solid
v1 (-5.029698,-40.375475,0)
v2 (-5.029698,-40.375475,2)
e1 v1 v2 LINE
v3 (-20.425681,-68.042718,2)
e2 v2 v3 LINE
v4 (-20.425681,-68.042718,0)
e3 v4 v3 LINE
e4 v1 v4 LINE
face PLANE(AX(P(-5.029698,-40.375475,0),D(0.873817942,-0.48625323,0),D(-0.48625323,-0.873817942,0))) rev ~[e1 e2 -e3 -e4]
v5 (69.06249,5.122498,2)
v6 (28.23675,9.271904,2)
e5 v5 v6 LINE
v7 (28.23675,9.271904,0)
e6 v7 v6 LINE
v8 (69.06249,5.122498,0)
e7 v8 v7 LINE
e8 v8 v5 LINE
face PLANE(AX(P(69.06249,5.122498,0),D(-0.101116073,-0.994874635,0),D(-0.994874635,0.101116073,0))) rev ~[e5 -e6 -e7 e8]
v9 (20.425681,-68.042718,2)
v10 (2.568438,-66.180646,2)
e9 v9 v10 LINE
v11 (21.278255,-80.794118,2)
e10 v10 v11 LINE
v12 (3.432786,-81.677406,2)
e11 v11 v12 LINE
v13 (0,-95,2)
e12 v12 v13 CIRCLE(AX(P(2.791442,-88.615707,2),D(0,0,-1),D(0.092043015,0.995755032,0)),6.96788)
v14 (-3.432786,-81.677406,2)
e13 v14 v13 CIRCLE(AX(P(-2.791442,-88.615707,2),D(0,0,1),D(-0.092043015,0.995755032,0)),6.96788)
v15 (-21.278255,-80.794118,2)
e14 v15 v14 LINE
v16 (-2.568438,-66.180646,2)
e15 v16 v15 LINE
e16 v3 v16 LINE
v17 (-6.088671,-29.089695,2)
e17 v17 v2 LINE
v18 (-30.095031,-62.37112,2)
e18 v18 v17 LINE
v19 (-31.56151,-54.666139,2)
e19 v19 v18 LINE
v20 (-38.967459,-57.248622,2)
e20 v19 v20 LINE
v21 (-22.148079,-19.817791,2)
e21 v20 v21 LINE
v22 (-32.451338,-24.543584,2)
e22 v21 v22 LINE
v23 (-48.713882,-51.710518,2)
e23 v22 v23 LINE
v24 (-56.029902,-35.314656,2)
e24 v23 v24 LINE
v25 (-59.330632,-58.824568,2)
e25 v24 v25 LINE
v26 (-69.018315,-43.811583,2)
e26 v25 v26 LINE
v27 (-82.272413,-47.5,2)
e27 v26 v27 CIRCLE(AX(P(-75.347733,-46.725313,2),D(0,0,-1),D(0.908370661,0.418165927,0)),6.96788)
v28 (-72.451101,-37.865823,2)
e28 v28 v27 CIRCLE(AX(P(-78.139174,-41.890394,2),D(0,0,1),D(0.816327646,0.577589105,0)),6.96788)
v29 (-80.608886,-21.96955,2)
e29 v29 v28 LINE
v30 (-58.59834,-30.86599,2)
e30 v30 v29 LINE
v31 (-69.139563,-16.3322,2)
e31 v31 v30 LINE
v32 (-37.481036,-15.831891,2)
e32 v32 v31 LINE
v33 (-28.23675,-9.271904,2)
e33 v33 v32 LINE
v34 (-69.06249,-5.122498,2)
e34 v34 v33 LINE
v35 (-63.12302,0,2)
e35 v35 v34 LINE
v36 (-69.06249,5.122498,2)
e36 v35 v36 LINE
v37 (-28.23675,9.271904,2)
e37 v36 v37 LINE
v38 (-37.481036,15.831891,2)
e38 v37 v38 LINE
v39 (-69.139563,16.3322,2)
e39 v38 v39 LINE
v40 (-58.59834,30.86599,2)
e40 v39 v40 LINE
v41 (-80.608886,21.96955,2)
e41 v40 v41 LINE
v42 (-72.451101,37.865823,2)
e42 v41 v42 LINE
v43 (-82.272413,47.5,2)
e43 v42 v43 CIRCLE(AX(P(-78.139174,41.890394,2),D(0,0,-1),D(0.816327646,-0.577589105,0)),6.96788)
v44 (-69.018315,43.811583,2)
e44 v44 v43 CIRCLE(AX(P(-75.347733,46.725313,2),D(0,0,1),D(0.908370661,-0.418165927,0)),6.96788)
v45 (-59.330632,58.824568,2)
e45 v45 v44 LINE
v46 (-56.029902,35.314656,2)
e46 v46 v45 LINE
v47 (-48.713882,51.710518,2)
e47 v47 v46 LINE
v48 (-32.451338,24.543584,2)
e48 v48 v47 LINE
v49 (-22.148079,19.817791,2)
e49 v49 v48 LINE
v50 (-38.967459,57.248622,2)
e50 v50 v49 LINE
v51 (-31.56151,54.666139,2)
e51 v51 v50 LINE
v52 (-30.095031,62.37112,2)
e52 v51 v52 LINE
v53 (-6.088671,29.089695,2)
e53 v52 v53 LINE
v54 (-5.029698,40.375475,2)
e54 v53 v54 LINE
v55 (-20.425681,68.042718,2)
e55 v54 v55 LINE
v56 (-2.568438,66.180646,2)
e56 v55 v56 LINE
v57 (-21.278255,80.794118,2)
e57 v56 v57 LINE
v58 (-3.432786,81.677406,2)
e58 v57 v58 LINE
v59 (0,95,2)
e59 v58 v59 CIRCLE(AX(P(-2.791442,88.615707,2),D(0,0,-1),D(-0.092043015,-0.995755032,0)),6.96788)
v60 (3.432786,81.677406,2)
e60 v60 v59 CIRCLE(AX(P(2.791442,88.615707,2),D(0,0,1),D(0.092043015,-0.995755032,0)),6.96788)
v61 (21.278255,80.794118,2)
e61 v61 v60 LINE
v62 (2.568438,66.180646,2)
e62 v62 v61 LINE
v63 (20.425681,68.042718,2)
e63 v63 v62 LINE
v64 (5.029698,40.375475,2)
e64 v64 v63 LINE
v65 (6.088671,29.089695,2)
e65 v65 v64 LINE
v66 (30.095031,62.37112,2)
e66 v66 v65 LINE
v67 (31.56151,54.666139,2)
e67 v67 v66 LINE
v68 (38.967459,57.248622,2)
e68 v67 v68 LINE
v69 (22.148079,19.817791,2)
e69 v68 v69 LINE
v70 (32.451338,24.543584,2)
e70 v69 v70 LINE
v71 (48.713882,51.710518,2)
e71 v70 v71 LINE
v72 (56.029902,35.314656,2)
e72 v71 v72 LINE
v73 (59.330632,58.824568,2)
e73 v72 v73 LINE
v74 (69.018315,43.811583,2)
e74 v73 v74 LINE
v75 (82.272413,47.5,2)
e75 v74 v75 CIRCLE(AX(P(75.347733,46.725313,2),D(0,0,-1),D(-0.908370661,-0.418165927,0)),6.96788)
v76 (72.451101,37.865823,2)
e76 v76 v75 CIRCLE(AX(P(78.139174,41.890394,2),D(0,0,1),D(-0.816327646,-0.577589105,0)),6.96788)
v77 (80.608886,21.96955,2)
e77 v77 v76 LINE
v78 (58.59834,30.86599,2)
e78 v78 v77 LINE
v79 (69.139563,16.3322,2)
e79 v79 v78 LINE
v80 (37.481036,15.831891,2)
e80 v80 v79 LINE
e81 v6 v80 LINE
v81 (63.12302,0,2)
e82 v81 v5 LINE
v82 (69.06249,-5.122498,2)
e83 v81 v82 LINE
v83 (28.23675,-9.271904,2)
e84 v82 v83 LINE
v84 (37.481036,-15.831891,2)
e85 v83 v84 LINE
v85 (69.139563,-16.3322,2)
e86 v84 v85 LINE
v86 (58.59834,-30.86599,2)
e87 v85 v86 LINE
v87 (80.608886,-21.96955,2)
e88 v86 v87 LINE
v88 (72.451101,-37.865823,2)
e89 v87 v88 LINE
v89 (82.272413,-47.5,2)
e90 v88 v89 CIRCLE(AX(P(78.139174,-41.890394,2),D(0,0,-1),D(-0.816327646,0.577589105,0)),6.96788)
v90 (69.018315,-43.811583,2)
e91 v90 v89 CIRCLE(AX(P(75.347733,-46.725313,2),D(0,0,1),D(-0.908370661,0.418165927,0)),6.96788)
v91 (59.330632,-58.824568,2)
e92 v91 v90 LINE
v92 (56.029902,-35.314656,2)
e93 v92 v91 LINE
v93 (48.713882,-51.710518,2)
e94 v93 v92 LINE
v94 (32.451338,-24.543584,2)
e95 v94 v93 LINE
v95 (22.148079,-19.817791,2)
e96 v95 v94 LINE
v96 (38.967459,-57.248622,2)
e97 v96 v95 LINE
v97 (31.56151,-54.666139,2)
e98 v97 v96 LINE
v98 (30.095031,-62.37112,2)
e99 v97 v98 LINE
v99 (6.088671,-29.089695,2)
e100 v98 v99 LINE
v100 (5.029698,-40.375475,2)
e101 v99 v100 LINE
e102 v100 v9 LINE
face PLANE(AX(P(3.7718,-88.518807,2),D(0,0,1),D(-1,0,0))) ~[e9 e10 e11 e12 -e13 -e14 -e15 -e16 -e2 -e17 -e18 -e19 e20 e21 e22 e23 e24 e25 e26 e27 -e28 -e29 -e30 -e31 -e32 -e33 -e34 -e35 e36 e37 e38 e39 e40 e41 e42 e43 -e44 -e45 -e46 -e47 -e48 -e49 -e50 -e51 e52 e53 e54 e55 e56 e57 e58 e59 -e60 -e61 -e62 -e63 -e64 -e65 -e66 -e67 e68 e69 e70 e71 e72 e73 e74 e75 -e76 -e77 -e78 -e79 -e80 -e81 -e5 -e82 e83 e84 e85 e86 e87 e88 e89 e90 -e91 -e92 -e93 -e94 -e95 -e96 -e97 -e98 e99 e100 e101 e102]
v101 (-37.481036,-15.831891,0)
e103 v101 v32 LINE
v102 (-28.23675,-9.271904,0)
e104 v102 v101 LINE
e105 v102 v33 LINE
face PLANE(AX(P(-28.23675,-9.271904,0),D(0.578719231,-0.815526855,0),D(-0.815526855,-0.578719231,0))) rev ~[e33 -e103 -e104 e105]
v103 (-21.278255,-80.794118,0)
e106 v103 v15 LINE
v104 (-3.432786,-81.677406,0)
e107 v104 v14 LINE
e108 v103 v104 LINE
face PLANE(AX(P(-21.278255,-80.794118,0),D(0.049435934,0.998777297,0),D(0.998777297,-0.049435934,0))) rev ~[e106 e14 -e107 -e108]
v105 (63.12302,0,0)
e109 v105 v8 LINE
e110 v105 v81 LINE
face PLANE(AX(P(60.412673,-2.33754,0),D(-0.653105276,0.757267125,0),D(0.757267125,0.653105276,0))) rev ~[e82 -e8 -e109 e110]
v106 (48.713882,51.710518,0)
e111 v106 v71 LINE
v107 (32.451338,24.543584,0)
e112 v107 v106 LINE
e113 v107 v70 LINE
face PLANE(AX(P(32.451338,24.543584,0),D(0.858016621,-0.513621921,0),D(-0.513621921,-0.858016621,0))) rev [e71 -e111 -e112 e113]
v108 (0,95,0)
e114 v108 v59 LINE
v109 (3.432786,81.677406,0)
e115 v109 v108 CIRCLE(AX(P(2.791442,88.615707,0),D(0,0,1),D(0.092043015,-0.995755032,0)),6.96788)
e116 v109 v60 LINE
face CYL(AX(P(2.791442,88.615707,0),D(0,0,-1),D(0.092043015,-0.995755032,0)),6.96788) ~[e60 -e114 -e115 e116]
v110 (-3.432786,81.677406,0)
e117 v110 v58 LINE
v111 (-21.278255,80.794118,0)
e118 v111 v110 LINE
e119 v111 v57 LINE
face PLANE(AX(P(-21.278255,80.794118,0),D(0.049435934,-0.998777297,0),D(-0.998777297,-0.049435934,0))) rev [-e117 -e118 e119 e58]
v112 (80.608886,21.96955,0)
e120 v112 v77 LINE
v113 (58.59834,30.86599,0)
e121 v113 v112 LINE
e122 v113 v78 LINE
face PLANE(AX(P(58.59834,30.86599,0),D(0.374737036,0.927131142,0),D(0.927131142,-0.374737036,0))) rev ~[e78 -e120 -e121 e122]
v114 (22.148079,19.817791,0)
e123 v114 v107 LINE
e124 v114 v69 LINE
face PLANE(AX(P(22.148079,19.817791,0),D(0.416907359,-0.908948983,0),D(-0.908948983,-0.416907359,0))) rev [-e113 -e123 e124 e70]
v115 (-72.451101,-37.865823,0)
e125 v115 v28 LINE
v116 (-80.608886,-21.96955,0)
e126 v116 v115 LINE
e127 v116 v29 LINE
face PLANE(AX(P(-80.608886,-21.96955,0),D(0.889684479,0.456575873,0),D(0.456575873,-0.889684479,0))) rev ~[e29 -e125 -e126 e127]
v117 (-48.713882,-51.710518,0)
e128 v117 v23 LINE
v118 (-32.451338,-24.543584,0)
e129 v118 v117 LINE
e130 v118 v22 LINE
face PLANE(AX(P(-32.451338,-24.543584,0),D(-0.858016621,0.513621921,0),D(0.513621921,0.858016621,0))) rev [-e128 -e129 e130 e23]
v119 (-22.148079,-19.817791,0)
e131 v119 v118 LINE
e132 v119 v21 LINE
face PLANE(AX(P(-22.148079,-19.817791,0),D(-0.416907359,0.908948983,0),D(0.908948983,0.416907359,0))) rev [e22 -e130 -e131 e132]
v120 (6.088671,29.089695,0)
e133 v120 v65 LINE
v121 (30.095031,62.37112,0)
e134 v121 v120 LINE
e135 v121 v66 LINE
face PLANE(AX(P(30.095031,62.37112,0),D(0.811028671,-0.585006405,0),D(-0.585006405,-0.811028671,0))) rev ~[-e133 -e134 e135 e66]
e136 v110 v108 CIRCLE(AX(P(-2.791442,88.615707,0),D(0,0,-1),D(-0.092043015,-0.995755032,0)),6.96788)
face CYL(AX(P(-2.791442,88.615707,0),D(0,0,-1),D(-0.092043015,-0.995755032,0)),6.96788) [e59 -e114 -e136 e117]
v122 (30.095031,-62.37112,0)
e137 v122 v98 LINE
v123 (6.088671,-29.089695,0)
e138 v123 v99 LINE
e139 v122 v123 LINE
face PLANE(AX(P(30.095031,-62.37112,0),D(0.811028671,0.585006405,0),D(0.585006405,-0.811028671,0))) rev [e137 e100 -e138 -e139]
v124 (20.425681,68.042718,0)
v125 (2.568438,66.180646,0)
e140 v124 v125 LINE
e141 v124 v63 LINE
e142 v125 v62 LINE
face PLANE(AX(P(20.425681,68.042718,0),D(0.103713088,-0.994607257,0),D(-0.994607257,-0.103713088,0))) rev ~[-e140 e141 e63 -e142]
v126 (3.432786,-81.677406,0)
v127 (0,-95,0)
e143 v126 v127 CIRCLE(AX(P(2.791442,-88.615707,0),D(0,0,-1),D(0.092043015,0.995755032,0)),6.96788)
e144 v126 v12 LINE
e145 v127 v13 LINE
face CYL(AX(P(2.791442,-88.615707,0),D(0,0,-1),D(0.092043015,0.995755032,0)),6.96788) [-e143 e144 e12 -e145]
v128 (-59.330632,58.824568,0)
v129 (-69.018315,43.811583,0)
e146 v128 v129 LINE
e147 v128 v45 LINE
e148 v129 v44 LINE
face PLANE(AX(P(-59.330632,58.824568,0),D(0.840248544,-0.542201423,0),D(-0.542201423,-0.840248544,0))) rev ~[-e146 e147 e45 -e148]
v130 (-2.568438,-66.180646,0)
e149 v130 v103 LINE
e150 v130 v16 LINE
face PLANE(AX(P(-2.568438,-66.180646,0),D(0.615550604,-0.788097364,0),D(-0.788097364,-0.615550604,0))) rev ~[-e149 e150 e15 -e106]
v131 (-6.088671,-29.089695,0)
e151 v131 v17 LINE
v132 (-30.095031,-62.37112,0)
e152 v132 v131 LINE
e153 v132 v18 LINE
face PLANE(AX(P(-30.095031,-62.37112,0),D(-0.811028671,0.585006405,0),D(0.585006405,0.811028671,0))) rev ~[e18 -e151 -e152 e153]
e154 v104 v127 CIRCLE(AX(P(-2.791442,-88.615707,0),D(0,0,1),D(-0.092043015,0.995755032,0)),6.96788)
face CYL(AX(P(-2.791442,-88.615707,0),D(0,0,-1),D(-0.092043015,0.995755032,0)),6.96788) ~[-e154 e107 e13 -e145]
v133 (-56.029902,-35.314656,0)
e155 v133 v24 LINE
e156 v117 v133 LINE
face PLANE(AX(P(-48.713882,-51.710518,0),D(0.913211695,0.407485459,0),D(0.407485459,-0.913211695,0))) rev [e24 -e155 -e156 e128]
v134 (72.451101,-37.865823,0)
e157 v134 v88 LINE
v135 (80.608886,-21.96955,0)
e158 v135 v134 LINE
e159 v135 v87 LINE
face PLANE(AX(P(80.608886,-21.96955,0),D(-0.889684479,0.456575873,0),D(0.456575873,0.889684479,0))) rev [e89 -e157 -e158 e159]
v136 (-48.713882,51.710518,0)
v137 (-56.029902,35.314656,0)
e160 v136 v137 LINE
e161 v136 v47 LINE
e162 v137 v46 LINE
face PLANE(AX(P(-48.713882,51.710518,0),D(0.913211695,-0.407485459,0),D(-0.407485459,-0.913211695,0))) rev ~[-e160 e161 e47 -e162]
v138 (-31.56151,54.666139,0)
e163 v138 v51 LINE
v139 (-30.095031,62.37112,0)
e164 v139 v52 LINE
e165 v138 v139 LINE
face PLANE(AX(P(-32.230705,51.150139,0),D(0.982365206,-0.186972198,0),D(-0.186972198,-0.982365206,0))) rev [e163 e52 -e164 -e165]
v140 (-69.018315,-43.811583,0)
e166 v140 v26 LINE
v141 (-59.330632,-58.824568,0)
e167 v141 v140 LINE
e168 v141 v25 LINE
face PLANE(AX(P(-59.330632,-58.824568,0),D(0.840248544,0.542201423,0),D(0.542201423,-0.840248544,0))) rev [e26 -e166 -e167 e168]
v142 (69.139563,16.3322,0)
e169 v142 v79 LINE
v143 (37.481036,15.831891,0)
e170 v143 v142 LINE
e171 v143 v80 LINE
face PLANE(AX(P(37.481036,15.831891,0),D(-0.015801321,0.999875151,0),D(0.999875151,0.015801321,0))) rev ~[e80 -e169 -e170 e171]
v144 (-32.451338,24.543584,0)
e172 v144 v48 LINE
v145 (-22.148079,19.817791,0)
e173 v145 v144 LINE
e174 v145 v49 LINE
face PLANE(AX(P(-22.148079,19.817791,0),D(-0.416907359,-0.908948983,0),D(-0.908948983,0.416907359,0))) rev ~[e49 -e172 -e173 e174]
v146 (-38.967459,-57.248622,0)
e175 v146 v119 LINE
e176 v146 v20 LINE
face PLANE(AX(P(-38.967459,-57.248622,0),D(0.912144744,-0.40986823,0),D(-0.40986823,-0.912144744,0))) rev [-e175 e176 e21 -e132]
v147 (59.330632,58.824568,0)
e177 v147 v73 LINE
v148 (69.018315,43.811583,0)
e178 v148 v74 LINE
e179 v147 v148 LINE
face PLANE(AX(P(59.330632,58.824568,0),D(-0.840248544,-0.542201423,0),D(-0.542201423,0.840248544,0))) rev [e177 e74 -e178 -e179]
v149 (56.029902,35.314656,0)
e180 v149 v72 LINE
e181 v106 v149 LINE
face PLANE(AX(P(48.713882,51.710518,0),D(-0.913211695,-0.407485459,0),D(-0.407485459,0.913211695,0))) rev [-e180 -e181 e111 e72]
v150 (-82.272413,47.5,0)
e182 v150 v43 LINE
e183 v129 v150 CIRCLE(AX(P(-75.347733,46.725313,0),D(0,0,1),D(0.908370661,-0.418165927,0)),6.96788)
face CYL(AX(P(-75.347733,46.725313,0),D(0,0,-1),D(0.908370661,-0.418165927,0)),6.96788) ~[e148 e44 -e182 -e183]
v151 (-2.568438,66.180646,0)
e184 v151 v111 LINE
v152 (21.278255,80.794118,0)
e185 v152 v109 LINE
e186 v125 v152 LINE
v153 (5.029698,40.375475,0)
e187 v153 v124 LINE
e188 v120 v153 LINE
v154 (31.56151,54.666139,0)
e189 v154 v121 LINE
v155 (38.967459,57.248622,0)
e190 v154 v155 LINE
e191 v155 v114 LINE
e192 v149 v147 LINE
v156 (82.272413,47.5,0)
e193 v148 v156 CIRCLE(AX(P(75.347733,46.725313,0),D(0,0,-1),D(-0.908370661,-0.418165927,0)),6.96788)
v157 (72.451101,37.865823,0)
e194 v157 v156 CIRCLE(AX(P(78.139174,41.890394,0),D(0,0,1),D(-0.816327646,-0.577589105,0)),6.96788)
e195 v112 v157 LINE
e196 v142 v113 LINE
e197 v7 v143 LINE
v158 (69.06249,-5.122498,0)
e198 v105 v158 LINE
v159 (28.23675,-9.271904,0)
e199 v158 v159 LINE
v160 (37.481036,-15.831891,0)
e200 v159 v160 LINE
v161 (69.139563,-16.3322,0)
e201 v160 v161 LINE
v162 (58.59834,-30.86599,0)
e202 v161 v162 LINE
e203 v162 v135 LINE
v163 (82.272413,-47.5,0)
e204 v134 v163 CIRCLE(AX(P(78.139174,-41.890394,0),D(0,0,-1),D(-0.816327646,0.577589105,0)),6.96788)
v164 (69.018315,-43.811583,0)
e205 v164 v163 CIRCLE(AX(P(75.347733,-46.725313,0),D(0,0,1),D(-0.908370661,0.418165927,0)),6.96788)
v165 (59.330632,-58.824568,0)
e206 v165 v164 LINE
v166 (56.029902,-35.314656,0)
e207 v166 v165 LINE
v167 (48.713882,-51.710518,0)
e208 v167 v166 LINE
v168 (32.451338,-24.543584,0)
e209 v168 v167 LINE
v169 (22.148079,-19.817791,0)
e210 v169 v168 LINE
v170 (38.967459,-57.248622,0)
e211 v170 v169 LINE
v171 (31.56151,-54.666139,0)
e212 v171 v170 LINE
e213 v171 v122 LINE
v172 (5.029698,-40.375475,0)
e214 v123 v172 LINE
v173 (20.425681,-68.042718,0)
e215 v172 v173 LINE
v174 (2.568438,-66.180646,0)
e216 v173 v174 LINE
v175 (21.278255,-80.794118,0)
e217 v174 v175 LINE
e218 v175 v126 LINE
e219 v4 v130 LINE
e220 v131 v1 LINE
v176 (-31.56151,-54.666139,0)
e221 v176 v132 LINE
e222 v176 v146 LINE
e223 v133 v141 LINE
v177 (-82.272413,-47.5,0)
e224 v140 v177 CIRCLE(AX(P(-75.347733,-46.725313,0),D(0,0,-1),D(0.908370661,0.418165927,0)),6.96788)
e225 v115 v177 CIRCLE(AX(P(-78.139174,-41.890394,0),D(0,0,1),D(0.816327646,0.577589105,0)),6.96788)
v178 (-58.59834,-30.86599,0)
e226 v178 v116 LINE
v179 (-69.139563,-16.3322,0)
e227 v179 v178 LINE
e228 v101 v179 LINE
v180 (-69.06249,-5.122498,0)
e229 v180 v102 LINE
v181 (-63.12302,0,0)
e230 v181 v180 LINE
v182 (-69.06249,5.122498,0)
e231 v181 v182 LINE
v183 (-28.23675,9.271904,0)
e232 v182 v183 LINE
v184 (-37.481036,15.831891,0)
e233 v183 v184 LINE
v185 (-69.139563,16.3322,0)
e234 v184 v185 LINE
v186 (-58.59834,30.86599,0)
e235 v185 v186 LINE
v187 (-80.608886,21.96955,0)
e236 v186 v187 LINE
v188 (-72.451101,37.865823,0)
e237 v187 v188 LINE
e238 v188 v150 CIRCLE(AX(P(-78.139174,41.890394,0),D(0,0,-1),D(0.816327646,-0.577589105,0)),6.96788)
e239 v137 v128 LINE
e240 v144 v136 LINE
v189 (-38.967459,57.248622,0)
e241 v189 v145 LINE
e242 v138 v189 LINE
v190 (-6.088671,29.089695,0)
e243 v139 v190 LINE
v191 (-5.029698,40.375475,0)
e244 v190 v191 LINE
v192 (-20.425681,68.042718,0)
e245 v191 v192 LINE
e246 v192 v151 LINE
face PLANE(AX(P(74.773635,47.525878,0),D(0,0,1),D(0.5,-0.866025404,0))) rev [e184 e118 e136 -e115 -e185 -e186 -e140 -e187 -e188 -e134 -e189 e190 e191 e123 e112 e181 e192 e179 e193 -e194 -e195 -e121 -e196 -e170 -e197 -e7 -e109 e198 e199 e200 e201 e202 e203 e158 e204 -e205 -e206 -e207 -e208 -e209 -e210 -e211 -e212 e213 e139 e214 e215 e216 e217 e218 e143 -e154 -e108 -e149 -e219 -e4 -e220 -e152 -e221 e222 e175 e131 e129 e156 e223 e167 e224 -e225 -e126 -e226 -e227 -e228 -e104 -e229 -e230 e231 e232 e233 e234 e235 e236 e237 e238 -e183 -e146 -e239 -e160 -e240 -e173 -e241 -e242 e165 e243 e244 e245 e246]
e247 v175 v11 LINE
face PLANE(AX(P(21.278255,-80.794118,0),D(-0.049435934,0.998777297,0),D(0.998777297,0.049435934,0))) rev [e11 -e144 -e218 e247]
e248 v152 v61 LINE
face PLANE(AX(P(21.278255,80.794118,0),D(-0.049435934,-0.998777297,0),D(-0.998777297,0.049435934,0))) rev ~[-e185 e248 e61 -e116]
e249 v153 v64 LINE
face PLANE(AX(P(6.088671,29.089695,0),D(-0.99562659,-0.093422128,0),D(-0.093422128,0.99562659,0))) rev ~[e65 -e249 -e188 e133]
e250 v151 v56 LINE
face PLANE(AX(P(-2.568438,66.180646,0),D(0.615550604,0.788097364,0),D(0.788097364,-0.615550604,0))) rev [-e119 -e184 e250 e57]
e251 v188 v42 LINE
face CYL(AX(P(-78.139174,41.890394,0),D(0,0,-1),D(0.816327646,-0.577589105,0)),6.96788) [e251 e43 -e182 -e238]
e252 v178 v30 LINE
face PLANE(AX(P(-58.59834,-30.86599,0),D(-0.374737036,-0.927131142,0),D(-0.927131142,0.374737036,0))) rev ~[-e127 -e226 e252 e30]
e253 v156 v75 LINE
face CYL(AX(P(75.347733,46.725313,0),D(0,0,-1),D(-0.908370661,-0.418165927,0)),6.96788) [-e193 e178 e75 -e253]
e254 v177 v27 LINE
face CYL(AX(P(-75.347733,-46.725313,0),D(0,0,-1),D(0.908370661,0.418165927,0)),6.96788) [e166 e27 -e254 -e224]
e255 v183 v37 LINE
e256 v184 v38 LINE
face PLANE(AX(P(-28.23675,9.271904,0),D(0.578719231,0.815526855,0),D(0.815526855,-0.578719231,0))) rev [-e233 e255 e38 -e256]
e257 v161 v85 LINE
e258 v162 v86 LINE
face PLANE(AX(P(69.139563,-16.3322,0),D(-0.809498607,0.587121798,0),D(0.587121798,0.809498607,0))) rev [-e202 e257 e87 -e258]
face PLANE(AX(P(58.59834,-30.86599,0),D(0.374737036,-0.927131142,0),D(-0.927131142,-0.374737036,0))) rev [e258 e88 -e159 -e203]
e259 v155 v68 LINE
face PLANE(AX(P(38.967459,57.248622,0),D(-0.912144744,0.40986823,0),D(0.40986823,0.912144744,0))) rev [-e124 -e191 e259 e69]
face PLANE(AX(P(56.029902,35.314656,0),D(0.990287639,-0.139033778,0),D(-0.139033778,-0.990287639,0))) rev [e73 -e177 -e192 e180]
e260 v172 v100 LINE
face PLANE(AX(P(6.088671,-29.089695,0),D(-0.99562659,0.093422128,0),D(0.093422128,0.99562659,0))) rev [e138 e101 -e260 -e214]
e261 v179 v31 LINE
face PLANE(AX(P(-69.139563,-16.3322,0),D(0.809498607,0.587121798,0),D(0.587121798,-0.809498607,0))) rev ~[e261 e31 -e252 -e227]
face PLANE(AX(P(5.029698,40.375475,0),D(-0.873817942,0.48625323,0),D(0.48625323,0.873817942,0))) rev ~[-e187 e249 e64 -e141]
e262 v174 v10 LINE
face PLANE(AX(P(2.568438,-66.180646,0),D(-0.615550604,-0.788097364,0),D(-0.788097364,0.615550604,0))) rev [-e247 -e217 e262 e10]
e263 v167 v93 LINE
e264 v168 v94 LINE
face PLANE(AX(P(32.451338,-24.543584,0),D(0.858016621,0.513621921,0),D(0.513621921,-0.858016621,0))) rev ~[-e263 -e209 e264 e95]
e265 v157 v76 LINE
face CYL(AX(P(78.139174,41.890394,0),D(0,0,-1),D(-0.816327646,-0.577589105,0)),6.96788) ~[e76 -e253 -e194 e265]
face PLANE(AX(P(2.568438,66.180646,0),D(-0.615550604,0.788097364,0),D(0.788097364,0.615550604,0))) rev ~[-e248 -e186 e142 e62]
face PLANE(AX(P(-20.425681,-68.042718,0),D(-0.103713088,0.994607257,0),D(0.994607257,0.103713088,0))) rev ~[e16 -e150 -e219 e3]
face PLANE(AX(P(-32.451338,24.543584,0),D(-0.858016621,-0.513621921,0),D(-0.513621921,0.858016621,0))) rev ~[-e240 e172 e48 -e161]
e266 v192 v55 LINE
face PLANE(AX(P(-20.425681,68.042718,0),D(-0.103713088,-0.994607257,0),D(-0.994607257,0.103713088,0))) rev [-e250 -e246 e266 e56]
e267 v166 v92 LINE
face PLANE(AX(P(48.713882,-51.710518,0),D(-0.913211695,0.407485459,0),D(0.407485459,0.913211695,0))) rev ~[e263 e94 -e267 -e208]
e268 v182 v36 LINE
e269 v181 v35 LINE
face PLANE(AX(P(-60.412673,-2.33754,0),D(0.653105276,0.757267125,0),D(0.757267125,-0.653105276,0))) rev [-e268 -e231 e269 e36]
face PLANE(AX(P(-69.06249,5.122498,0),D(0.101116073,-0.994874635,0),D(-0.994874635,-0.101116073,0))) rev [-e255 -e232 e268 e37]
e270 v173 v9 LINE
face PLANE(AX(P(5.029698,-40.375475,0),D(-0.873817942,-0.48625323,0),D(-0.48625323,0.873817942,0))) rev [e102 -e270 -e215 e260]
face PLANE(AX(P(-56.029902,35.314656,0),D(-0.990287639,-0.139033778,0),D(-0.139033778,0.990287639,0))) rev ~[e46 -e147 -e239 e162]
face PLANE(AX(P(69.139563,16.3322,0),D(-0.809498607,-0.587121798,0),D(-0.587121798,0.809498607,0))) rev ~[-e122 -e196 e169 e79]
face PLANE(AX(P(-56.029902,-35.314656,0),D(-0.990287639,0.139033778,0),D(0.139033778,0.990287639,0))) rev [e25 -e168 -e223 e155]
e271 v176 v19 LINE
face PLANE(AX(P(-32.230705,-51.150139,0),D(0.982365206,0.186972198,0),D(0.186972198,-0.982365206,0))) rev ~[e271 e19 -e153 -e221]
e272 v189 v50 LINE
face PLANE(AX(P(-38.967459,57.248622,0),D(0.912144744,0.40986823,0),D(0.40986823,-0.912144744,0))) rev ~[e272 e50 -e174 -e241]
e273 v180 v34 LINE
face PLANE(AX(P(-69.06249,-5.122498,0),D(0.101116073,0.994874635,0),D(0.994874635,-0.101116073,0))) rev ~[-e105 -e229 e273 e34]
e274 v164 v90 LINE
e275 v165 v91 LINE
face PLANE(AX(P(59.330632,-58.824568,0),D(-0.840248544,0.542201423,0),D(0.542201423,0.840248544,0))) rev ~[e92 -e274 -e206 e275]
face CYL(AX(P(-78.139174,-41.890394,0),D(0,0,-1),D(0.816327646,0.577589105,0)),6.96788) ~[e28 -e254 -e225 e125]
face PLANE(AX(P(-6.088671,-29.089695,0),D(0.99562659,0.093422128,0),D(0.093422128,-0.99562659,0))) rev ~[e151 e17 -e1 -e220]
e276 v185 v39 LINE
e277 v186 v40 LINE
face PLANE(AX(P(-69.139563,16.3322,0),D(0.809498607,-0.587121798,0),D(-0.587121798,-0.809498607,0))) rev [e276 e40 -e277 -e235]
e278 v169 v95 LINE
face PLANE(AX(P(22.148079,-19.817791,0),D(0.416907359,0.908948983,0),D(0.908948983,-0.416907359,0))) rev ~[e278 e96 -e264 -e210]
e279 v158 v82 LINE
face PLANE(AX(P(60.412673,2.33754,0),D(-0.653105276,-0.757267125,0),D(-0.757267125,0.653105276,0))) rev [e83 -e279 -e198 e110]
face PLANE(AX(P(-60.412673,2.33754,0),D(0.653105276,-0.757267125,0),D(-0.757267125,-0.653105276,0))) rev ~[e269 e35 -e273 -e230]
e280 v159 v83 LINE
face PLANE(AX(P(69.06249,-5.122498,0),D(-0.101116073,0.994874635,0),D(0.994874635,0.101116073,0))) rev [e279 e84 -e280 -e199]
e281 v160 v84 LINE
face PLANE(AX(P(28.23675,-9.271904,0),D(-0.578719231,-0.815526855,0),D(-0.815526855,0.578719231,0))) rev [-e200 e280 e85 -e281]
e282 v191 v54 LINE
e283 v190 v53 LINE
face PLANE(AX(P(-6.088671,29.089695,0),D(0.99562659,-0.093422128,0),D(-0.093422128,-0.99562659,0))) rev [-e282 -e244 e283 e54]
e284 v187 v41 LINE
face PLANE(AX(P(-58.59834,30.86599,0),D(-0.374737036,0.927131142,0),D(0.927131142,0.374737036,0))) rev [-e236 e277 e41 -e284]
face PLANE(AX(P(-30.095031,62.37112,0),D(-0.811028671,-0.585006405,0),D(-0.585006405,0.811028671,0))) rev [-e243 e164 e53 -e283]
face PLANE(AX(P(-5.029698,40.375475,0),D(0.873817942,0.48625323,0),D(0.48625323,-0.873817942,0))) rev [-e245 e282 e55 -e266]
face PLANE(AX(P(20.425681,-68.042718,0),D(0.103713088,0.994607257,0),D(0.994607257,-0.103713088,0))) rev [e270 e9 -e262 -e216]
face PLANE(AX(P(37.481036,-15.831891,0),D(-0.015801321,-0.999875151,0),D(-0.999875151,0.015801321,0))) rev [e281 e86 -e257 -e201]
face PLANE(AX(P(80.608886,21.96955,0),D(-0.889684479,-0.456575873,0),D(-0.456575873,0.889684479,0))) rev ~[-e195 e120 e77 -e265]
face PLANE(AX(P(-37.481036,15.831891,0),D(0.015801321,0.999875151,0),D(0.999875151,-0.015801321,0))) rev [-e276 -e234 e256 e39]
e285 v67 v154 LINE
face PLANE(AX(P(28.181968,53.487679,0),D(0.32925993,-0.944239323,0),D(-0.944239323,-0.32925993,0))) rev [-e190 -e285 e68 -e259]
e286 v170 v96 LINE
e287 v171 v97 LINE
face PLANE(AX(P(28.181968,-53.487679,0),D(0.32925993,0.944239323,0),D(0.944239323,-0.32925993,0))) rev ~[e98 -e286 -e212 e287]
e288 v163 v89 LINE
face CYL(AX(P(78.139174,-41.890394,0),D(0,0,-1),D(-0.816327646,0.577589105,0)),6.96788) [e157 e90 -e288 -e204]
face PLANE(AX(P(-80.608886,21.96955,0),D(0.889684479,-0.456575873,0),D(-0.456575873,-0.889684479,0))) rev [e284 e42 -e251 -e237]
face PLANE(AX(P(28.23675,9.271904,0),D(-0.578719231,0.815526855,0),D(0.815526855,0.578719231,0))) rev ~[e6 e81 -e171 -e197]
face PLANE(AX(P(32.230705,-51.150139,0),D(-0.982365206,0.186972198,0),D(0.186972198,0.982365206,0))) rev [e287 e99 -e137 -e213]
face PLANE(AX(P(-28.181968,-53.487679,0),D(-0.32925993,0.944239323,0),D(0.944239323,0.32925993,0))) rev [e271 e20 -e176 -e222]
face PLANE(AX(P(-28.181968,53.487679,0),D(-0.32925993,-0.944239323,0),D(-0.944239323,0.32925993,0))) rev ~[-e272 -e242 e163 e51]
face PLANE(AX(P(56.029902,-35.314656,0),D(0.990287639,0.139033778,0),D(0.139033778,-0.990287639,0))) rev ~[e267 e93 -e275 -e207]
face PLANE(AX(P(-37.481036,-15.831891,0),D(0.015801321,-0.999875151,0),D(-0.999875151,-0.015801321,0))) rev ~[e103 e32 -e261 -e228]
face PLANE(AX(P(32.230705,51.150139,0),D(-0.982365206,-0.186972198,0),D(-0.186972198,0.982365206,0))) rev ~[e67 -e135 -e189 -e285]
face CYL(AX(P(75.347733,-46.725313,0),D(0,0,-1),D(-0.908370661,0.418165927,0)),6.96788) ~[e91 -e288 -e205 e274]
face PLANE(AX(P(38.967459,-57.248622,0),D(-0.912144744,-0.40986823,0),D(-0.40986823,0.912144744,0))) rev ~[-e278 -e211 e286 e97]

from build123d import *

# Parameters (mm, degrees)
F1_DEPTH = 2
F4_COUNT = 6
F4_ANGLE = 300


with BuildPart() as f1:
    # F0 (on Top) → F1 (new body)
    with BuildSketch(Plane.XY):
        with BuildLine():
            Line((0, 95), (0, 82.2314136744))
            ThreePointArc((0, 82.2314136744), (1.6812792043, 81.736834508), (3.4327861377, 81.677405755))
            ThreePointArc((3.4327861377, 81.677405755), (9.5389305529, 90.3543086779), (0, 95))
        make_face()
        with BuildLine():
            ThreePointArc((3.4327861377, 81.677405755), (1.6812792043, 81.736834508), (0, 82.2314136744))
            Line((0, 82.2314136744), (0, 0))
            Line((0, 0), (5.8111646213, 0))
            Line((5.8111646213, 0), (32.2307050228, 51.1501394212))
            Line((32.2307050228, 51.1501394212), (30.095031485, 62.3711198568))
            Line((30.095031485, 62.3711198568), (6.0886708088, 29.0896948427))
            Line((6.0886708088, 29.0896948427), (5.0296979025, 40.3754748404))
            Line((5.0296979025, 40.3754748404), (20.4256810248, 68.0427178741))
            Line((20.4256810248, 68.0427178741), (2.5684384163, 66.1806464195))
            Line((2.5684384163, 66.1806464195), (21.2782546878, 80.7941183448))
            Line((21.2782546878, 80.7941183448), (3.4327861377, 81.677405755))
        make_face()
    extrude(amount=F1_DEPTH)

    # F2: F1 across plane


with BuildPart() as f1_1:
    add(f1.part)
    add(f1.part.mirror(Plane.YZ))

    # F4: F1 ×6 about axis
    f4_axis = Axis((0, 0, 4.1130185127), (0, 0, 1))


with BuildPart() as f1_2:
    add(f1_1.part)
    for i in range(1, F4_COUNT):
        add(f1_1.part.rotate(f4_axis, i * F4_ANGLE / (F4_COUNT - 1)))


solid = f1_2.part
